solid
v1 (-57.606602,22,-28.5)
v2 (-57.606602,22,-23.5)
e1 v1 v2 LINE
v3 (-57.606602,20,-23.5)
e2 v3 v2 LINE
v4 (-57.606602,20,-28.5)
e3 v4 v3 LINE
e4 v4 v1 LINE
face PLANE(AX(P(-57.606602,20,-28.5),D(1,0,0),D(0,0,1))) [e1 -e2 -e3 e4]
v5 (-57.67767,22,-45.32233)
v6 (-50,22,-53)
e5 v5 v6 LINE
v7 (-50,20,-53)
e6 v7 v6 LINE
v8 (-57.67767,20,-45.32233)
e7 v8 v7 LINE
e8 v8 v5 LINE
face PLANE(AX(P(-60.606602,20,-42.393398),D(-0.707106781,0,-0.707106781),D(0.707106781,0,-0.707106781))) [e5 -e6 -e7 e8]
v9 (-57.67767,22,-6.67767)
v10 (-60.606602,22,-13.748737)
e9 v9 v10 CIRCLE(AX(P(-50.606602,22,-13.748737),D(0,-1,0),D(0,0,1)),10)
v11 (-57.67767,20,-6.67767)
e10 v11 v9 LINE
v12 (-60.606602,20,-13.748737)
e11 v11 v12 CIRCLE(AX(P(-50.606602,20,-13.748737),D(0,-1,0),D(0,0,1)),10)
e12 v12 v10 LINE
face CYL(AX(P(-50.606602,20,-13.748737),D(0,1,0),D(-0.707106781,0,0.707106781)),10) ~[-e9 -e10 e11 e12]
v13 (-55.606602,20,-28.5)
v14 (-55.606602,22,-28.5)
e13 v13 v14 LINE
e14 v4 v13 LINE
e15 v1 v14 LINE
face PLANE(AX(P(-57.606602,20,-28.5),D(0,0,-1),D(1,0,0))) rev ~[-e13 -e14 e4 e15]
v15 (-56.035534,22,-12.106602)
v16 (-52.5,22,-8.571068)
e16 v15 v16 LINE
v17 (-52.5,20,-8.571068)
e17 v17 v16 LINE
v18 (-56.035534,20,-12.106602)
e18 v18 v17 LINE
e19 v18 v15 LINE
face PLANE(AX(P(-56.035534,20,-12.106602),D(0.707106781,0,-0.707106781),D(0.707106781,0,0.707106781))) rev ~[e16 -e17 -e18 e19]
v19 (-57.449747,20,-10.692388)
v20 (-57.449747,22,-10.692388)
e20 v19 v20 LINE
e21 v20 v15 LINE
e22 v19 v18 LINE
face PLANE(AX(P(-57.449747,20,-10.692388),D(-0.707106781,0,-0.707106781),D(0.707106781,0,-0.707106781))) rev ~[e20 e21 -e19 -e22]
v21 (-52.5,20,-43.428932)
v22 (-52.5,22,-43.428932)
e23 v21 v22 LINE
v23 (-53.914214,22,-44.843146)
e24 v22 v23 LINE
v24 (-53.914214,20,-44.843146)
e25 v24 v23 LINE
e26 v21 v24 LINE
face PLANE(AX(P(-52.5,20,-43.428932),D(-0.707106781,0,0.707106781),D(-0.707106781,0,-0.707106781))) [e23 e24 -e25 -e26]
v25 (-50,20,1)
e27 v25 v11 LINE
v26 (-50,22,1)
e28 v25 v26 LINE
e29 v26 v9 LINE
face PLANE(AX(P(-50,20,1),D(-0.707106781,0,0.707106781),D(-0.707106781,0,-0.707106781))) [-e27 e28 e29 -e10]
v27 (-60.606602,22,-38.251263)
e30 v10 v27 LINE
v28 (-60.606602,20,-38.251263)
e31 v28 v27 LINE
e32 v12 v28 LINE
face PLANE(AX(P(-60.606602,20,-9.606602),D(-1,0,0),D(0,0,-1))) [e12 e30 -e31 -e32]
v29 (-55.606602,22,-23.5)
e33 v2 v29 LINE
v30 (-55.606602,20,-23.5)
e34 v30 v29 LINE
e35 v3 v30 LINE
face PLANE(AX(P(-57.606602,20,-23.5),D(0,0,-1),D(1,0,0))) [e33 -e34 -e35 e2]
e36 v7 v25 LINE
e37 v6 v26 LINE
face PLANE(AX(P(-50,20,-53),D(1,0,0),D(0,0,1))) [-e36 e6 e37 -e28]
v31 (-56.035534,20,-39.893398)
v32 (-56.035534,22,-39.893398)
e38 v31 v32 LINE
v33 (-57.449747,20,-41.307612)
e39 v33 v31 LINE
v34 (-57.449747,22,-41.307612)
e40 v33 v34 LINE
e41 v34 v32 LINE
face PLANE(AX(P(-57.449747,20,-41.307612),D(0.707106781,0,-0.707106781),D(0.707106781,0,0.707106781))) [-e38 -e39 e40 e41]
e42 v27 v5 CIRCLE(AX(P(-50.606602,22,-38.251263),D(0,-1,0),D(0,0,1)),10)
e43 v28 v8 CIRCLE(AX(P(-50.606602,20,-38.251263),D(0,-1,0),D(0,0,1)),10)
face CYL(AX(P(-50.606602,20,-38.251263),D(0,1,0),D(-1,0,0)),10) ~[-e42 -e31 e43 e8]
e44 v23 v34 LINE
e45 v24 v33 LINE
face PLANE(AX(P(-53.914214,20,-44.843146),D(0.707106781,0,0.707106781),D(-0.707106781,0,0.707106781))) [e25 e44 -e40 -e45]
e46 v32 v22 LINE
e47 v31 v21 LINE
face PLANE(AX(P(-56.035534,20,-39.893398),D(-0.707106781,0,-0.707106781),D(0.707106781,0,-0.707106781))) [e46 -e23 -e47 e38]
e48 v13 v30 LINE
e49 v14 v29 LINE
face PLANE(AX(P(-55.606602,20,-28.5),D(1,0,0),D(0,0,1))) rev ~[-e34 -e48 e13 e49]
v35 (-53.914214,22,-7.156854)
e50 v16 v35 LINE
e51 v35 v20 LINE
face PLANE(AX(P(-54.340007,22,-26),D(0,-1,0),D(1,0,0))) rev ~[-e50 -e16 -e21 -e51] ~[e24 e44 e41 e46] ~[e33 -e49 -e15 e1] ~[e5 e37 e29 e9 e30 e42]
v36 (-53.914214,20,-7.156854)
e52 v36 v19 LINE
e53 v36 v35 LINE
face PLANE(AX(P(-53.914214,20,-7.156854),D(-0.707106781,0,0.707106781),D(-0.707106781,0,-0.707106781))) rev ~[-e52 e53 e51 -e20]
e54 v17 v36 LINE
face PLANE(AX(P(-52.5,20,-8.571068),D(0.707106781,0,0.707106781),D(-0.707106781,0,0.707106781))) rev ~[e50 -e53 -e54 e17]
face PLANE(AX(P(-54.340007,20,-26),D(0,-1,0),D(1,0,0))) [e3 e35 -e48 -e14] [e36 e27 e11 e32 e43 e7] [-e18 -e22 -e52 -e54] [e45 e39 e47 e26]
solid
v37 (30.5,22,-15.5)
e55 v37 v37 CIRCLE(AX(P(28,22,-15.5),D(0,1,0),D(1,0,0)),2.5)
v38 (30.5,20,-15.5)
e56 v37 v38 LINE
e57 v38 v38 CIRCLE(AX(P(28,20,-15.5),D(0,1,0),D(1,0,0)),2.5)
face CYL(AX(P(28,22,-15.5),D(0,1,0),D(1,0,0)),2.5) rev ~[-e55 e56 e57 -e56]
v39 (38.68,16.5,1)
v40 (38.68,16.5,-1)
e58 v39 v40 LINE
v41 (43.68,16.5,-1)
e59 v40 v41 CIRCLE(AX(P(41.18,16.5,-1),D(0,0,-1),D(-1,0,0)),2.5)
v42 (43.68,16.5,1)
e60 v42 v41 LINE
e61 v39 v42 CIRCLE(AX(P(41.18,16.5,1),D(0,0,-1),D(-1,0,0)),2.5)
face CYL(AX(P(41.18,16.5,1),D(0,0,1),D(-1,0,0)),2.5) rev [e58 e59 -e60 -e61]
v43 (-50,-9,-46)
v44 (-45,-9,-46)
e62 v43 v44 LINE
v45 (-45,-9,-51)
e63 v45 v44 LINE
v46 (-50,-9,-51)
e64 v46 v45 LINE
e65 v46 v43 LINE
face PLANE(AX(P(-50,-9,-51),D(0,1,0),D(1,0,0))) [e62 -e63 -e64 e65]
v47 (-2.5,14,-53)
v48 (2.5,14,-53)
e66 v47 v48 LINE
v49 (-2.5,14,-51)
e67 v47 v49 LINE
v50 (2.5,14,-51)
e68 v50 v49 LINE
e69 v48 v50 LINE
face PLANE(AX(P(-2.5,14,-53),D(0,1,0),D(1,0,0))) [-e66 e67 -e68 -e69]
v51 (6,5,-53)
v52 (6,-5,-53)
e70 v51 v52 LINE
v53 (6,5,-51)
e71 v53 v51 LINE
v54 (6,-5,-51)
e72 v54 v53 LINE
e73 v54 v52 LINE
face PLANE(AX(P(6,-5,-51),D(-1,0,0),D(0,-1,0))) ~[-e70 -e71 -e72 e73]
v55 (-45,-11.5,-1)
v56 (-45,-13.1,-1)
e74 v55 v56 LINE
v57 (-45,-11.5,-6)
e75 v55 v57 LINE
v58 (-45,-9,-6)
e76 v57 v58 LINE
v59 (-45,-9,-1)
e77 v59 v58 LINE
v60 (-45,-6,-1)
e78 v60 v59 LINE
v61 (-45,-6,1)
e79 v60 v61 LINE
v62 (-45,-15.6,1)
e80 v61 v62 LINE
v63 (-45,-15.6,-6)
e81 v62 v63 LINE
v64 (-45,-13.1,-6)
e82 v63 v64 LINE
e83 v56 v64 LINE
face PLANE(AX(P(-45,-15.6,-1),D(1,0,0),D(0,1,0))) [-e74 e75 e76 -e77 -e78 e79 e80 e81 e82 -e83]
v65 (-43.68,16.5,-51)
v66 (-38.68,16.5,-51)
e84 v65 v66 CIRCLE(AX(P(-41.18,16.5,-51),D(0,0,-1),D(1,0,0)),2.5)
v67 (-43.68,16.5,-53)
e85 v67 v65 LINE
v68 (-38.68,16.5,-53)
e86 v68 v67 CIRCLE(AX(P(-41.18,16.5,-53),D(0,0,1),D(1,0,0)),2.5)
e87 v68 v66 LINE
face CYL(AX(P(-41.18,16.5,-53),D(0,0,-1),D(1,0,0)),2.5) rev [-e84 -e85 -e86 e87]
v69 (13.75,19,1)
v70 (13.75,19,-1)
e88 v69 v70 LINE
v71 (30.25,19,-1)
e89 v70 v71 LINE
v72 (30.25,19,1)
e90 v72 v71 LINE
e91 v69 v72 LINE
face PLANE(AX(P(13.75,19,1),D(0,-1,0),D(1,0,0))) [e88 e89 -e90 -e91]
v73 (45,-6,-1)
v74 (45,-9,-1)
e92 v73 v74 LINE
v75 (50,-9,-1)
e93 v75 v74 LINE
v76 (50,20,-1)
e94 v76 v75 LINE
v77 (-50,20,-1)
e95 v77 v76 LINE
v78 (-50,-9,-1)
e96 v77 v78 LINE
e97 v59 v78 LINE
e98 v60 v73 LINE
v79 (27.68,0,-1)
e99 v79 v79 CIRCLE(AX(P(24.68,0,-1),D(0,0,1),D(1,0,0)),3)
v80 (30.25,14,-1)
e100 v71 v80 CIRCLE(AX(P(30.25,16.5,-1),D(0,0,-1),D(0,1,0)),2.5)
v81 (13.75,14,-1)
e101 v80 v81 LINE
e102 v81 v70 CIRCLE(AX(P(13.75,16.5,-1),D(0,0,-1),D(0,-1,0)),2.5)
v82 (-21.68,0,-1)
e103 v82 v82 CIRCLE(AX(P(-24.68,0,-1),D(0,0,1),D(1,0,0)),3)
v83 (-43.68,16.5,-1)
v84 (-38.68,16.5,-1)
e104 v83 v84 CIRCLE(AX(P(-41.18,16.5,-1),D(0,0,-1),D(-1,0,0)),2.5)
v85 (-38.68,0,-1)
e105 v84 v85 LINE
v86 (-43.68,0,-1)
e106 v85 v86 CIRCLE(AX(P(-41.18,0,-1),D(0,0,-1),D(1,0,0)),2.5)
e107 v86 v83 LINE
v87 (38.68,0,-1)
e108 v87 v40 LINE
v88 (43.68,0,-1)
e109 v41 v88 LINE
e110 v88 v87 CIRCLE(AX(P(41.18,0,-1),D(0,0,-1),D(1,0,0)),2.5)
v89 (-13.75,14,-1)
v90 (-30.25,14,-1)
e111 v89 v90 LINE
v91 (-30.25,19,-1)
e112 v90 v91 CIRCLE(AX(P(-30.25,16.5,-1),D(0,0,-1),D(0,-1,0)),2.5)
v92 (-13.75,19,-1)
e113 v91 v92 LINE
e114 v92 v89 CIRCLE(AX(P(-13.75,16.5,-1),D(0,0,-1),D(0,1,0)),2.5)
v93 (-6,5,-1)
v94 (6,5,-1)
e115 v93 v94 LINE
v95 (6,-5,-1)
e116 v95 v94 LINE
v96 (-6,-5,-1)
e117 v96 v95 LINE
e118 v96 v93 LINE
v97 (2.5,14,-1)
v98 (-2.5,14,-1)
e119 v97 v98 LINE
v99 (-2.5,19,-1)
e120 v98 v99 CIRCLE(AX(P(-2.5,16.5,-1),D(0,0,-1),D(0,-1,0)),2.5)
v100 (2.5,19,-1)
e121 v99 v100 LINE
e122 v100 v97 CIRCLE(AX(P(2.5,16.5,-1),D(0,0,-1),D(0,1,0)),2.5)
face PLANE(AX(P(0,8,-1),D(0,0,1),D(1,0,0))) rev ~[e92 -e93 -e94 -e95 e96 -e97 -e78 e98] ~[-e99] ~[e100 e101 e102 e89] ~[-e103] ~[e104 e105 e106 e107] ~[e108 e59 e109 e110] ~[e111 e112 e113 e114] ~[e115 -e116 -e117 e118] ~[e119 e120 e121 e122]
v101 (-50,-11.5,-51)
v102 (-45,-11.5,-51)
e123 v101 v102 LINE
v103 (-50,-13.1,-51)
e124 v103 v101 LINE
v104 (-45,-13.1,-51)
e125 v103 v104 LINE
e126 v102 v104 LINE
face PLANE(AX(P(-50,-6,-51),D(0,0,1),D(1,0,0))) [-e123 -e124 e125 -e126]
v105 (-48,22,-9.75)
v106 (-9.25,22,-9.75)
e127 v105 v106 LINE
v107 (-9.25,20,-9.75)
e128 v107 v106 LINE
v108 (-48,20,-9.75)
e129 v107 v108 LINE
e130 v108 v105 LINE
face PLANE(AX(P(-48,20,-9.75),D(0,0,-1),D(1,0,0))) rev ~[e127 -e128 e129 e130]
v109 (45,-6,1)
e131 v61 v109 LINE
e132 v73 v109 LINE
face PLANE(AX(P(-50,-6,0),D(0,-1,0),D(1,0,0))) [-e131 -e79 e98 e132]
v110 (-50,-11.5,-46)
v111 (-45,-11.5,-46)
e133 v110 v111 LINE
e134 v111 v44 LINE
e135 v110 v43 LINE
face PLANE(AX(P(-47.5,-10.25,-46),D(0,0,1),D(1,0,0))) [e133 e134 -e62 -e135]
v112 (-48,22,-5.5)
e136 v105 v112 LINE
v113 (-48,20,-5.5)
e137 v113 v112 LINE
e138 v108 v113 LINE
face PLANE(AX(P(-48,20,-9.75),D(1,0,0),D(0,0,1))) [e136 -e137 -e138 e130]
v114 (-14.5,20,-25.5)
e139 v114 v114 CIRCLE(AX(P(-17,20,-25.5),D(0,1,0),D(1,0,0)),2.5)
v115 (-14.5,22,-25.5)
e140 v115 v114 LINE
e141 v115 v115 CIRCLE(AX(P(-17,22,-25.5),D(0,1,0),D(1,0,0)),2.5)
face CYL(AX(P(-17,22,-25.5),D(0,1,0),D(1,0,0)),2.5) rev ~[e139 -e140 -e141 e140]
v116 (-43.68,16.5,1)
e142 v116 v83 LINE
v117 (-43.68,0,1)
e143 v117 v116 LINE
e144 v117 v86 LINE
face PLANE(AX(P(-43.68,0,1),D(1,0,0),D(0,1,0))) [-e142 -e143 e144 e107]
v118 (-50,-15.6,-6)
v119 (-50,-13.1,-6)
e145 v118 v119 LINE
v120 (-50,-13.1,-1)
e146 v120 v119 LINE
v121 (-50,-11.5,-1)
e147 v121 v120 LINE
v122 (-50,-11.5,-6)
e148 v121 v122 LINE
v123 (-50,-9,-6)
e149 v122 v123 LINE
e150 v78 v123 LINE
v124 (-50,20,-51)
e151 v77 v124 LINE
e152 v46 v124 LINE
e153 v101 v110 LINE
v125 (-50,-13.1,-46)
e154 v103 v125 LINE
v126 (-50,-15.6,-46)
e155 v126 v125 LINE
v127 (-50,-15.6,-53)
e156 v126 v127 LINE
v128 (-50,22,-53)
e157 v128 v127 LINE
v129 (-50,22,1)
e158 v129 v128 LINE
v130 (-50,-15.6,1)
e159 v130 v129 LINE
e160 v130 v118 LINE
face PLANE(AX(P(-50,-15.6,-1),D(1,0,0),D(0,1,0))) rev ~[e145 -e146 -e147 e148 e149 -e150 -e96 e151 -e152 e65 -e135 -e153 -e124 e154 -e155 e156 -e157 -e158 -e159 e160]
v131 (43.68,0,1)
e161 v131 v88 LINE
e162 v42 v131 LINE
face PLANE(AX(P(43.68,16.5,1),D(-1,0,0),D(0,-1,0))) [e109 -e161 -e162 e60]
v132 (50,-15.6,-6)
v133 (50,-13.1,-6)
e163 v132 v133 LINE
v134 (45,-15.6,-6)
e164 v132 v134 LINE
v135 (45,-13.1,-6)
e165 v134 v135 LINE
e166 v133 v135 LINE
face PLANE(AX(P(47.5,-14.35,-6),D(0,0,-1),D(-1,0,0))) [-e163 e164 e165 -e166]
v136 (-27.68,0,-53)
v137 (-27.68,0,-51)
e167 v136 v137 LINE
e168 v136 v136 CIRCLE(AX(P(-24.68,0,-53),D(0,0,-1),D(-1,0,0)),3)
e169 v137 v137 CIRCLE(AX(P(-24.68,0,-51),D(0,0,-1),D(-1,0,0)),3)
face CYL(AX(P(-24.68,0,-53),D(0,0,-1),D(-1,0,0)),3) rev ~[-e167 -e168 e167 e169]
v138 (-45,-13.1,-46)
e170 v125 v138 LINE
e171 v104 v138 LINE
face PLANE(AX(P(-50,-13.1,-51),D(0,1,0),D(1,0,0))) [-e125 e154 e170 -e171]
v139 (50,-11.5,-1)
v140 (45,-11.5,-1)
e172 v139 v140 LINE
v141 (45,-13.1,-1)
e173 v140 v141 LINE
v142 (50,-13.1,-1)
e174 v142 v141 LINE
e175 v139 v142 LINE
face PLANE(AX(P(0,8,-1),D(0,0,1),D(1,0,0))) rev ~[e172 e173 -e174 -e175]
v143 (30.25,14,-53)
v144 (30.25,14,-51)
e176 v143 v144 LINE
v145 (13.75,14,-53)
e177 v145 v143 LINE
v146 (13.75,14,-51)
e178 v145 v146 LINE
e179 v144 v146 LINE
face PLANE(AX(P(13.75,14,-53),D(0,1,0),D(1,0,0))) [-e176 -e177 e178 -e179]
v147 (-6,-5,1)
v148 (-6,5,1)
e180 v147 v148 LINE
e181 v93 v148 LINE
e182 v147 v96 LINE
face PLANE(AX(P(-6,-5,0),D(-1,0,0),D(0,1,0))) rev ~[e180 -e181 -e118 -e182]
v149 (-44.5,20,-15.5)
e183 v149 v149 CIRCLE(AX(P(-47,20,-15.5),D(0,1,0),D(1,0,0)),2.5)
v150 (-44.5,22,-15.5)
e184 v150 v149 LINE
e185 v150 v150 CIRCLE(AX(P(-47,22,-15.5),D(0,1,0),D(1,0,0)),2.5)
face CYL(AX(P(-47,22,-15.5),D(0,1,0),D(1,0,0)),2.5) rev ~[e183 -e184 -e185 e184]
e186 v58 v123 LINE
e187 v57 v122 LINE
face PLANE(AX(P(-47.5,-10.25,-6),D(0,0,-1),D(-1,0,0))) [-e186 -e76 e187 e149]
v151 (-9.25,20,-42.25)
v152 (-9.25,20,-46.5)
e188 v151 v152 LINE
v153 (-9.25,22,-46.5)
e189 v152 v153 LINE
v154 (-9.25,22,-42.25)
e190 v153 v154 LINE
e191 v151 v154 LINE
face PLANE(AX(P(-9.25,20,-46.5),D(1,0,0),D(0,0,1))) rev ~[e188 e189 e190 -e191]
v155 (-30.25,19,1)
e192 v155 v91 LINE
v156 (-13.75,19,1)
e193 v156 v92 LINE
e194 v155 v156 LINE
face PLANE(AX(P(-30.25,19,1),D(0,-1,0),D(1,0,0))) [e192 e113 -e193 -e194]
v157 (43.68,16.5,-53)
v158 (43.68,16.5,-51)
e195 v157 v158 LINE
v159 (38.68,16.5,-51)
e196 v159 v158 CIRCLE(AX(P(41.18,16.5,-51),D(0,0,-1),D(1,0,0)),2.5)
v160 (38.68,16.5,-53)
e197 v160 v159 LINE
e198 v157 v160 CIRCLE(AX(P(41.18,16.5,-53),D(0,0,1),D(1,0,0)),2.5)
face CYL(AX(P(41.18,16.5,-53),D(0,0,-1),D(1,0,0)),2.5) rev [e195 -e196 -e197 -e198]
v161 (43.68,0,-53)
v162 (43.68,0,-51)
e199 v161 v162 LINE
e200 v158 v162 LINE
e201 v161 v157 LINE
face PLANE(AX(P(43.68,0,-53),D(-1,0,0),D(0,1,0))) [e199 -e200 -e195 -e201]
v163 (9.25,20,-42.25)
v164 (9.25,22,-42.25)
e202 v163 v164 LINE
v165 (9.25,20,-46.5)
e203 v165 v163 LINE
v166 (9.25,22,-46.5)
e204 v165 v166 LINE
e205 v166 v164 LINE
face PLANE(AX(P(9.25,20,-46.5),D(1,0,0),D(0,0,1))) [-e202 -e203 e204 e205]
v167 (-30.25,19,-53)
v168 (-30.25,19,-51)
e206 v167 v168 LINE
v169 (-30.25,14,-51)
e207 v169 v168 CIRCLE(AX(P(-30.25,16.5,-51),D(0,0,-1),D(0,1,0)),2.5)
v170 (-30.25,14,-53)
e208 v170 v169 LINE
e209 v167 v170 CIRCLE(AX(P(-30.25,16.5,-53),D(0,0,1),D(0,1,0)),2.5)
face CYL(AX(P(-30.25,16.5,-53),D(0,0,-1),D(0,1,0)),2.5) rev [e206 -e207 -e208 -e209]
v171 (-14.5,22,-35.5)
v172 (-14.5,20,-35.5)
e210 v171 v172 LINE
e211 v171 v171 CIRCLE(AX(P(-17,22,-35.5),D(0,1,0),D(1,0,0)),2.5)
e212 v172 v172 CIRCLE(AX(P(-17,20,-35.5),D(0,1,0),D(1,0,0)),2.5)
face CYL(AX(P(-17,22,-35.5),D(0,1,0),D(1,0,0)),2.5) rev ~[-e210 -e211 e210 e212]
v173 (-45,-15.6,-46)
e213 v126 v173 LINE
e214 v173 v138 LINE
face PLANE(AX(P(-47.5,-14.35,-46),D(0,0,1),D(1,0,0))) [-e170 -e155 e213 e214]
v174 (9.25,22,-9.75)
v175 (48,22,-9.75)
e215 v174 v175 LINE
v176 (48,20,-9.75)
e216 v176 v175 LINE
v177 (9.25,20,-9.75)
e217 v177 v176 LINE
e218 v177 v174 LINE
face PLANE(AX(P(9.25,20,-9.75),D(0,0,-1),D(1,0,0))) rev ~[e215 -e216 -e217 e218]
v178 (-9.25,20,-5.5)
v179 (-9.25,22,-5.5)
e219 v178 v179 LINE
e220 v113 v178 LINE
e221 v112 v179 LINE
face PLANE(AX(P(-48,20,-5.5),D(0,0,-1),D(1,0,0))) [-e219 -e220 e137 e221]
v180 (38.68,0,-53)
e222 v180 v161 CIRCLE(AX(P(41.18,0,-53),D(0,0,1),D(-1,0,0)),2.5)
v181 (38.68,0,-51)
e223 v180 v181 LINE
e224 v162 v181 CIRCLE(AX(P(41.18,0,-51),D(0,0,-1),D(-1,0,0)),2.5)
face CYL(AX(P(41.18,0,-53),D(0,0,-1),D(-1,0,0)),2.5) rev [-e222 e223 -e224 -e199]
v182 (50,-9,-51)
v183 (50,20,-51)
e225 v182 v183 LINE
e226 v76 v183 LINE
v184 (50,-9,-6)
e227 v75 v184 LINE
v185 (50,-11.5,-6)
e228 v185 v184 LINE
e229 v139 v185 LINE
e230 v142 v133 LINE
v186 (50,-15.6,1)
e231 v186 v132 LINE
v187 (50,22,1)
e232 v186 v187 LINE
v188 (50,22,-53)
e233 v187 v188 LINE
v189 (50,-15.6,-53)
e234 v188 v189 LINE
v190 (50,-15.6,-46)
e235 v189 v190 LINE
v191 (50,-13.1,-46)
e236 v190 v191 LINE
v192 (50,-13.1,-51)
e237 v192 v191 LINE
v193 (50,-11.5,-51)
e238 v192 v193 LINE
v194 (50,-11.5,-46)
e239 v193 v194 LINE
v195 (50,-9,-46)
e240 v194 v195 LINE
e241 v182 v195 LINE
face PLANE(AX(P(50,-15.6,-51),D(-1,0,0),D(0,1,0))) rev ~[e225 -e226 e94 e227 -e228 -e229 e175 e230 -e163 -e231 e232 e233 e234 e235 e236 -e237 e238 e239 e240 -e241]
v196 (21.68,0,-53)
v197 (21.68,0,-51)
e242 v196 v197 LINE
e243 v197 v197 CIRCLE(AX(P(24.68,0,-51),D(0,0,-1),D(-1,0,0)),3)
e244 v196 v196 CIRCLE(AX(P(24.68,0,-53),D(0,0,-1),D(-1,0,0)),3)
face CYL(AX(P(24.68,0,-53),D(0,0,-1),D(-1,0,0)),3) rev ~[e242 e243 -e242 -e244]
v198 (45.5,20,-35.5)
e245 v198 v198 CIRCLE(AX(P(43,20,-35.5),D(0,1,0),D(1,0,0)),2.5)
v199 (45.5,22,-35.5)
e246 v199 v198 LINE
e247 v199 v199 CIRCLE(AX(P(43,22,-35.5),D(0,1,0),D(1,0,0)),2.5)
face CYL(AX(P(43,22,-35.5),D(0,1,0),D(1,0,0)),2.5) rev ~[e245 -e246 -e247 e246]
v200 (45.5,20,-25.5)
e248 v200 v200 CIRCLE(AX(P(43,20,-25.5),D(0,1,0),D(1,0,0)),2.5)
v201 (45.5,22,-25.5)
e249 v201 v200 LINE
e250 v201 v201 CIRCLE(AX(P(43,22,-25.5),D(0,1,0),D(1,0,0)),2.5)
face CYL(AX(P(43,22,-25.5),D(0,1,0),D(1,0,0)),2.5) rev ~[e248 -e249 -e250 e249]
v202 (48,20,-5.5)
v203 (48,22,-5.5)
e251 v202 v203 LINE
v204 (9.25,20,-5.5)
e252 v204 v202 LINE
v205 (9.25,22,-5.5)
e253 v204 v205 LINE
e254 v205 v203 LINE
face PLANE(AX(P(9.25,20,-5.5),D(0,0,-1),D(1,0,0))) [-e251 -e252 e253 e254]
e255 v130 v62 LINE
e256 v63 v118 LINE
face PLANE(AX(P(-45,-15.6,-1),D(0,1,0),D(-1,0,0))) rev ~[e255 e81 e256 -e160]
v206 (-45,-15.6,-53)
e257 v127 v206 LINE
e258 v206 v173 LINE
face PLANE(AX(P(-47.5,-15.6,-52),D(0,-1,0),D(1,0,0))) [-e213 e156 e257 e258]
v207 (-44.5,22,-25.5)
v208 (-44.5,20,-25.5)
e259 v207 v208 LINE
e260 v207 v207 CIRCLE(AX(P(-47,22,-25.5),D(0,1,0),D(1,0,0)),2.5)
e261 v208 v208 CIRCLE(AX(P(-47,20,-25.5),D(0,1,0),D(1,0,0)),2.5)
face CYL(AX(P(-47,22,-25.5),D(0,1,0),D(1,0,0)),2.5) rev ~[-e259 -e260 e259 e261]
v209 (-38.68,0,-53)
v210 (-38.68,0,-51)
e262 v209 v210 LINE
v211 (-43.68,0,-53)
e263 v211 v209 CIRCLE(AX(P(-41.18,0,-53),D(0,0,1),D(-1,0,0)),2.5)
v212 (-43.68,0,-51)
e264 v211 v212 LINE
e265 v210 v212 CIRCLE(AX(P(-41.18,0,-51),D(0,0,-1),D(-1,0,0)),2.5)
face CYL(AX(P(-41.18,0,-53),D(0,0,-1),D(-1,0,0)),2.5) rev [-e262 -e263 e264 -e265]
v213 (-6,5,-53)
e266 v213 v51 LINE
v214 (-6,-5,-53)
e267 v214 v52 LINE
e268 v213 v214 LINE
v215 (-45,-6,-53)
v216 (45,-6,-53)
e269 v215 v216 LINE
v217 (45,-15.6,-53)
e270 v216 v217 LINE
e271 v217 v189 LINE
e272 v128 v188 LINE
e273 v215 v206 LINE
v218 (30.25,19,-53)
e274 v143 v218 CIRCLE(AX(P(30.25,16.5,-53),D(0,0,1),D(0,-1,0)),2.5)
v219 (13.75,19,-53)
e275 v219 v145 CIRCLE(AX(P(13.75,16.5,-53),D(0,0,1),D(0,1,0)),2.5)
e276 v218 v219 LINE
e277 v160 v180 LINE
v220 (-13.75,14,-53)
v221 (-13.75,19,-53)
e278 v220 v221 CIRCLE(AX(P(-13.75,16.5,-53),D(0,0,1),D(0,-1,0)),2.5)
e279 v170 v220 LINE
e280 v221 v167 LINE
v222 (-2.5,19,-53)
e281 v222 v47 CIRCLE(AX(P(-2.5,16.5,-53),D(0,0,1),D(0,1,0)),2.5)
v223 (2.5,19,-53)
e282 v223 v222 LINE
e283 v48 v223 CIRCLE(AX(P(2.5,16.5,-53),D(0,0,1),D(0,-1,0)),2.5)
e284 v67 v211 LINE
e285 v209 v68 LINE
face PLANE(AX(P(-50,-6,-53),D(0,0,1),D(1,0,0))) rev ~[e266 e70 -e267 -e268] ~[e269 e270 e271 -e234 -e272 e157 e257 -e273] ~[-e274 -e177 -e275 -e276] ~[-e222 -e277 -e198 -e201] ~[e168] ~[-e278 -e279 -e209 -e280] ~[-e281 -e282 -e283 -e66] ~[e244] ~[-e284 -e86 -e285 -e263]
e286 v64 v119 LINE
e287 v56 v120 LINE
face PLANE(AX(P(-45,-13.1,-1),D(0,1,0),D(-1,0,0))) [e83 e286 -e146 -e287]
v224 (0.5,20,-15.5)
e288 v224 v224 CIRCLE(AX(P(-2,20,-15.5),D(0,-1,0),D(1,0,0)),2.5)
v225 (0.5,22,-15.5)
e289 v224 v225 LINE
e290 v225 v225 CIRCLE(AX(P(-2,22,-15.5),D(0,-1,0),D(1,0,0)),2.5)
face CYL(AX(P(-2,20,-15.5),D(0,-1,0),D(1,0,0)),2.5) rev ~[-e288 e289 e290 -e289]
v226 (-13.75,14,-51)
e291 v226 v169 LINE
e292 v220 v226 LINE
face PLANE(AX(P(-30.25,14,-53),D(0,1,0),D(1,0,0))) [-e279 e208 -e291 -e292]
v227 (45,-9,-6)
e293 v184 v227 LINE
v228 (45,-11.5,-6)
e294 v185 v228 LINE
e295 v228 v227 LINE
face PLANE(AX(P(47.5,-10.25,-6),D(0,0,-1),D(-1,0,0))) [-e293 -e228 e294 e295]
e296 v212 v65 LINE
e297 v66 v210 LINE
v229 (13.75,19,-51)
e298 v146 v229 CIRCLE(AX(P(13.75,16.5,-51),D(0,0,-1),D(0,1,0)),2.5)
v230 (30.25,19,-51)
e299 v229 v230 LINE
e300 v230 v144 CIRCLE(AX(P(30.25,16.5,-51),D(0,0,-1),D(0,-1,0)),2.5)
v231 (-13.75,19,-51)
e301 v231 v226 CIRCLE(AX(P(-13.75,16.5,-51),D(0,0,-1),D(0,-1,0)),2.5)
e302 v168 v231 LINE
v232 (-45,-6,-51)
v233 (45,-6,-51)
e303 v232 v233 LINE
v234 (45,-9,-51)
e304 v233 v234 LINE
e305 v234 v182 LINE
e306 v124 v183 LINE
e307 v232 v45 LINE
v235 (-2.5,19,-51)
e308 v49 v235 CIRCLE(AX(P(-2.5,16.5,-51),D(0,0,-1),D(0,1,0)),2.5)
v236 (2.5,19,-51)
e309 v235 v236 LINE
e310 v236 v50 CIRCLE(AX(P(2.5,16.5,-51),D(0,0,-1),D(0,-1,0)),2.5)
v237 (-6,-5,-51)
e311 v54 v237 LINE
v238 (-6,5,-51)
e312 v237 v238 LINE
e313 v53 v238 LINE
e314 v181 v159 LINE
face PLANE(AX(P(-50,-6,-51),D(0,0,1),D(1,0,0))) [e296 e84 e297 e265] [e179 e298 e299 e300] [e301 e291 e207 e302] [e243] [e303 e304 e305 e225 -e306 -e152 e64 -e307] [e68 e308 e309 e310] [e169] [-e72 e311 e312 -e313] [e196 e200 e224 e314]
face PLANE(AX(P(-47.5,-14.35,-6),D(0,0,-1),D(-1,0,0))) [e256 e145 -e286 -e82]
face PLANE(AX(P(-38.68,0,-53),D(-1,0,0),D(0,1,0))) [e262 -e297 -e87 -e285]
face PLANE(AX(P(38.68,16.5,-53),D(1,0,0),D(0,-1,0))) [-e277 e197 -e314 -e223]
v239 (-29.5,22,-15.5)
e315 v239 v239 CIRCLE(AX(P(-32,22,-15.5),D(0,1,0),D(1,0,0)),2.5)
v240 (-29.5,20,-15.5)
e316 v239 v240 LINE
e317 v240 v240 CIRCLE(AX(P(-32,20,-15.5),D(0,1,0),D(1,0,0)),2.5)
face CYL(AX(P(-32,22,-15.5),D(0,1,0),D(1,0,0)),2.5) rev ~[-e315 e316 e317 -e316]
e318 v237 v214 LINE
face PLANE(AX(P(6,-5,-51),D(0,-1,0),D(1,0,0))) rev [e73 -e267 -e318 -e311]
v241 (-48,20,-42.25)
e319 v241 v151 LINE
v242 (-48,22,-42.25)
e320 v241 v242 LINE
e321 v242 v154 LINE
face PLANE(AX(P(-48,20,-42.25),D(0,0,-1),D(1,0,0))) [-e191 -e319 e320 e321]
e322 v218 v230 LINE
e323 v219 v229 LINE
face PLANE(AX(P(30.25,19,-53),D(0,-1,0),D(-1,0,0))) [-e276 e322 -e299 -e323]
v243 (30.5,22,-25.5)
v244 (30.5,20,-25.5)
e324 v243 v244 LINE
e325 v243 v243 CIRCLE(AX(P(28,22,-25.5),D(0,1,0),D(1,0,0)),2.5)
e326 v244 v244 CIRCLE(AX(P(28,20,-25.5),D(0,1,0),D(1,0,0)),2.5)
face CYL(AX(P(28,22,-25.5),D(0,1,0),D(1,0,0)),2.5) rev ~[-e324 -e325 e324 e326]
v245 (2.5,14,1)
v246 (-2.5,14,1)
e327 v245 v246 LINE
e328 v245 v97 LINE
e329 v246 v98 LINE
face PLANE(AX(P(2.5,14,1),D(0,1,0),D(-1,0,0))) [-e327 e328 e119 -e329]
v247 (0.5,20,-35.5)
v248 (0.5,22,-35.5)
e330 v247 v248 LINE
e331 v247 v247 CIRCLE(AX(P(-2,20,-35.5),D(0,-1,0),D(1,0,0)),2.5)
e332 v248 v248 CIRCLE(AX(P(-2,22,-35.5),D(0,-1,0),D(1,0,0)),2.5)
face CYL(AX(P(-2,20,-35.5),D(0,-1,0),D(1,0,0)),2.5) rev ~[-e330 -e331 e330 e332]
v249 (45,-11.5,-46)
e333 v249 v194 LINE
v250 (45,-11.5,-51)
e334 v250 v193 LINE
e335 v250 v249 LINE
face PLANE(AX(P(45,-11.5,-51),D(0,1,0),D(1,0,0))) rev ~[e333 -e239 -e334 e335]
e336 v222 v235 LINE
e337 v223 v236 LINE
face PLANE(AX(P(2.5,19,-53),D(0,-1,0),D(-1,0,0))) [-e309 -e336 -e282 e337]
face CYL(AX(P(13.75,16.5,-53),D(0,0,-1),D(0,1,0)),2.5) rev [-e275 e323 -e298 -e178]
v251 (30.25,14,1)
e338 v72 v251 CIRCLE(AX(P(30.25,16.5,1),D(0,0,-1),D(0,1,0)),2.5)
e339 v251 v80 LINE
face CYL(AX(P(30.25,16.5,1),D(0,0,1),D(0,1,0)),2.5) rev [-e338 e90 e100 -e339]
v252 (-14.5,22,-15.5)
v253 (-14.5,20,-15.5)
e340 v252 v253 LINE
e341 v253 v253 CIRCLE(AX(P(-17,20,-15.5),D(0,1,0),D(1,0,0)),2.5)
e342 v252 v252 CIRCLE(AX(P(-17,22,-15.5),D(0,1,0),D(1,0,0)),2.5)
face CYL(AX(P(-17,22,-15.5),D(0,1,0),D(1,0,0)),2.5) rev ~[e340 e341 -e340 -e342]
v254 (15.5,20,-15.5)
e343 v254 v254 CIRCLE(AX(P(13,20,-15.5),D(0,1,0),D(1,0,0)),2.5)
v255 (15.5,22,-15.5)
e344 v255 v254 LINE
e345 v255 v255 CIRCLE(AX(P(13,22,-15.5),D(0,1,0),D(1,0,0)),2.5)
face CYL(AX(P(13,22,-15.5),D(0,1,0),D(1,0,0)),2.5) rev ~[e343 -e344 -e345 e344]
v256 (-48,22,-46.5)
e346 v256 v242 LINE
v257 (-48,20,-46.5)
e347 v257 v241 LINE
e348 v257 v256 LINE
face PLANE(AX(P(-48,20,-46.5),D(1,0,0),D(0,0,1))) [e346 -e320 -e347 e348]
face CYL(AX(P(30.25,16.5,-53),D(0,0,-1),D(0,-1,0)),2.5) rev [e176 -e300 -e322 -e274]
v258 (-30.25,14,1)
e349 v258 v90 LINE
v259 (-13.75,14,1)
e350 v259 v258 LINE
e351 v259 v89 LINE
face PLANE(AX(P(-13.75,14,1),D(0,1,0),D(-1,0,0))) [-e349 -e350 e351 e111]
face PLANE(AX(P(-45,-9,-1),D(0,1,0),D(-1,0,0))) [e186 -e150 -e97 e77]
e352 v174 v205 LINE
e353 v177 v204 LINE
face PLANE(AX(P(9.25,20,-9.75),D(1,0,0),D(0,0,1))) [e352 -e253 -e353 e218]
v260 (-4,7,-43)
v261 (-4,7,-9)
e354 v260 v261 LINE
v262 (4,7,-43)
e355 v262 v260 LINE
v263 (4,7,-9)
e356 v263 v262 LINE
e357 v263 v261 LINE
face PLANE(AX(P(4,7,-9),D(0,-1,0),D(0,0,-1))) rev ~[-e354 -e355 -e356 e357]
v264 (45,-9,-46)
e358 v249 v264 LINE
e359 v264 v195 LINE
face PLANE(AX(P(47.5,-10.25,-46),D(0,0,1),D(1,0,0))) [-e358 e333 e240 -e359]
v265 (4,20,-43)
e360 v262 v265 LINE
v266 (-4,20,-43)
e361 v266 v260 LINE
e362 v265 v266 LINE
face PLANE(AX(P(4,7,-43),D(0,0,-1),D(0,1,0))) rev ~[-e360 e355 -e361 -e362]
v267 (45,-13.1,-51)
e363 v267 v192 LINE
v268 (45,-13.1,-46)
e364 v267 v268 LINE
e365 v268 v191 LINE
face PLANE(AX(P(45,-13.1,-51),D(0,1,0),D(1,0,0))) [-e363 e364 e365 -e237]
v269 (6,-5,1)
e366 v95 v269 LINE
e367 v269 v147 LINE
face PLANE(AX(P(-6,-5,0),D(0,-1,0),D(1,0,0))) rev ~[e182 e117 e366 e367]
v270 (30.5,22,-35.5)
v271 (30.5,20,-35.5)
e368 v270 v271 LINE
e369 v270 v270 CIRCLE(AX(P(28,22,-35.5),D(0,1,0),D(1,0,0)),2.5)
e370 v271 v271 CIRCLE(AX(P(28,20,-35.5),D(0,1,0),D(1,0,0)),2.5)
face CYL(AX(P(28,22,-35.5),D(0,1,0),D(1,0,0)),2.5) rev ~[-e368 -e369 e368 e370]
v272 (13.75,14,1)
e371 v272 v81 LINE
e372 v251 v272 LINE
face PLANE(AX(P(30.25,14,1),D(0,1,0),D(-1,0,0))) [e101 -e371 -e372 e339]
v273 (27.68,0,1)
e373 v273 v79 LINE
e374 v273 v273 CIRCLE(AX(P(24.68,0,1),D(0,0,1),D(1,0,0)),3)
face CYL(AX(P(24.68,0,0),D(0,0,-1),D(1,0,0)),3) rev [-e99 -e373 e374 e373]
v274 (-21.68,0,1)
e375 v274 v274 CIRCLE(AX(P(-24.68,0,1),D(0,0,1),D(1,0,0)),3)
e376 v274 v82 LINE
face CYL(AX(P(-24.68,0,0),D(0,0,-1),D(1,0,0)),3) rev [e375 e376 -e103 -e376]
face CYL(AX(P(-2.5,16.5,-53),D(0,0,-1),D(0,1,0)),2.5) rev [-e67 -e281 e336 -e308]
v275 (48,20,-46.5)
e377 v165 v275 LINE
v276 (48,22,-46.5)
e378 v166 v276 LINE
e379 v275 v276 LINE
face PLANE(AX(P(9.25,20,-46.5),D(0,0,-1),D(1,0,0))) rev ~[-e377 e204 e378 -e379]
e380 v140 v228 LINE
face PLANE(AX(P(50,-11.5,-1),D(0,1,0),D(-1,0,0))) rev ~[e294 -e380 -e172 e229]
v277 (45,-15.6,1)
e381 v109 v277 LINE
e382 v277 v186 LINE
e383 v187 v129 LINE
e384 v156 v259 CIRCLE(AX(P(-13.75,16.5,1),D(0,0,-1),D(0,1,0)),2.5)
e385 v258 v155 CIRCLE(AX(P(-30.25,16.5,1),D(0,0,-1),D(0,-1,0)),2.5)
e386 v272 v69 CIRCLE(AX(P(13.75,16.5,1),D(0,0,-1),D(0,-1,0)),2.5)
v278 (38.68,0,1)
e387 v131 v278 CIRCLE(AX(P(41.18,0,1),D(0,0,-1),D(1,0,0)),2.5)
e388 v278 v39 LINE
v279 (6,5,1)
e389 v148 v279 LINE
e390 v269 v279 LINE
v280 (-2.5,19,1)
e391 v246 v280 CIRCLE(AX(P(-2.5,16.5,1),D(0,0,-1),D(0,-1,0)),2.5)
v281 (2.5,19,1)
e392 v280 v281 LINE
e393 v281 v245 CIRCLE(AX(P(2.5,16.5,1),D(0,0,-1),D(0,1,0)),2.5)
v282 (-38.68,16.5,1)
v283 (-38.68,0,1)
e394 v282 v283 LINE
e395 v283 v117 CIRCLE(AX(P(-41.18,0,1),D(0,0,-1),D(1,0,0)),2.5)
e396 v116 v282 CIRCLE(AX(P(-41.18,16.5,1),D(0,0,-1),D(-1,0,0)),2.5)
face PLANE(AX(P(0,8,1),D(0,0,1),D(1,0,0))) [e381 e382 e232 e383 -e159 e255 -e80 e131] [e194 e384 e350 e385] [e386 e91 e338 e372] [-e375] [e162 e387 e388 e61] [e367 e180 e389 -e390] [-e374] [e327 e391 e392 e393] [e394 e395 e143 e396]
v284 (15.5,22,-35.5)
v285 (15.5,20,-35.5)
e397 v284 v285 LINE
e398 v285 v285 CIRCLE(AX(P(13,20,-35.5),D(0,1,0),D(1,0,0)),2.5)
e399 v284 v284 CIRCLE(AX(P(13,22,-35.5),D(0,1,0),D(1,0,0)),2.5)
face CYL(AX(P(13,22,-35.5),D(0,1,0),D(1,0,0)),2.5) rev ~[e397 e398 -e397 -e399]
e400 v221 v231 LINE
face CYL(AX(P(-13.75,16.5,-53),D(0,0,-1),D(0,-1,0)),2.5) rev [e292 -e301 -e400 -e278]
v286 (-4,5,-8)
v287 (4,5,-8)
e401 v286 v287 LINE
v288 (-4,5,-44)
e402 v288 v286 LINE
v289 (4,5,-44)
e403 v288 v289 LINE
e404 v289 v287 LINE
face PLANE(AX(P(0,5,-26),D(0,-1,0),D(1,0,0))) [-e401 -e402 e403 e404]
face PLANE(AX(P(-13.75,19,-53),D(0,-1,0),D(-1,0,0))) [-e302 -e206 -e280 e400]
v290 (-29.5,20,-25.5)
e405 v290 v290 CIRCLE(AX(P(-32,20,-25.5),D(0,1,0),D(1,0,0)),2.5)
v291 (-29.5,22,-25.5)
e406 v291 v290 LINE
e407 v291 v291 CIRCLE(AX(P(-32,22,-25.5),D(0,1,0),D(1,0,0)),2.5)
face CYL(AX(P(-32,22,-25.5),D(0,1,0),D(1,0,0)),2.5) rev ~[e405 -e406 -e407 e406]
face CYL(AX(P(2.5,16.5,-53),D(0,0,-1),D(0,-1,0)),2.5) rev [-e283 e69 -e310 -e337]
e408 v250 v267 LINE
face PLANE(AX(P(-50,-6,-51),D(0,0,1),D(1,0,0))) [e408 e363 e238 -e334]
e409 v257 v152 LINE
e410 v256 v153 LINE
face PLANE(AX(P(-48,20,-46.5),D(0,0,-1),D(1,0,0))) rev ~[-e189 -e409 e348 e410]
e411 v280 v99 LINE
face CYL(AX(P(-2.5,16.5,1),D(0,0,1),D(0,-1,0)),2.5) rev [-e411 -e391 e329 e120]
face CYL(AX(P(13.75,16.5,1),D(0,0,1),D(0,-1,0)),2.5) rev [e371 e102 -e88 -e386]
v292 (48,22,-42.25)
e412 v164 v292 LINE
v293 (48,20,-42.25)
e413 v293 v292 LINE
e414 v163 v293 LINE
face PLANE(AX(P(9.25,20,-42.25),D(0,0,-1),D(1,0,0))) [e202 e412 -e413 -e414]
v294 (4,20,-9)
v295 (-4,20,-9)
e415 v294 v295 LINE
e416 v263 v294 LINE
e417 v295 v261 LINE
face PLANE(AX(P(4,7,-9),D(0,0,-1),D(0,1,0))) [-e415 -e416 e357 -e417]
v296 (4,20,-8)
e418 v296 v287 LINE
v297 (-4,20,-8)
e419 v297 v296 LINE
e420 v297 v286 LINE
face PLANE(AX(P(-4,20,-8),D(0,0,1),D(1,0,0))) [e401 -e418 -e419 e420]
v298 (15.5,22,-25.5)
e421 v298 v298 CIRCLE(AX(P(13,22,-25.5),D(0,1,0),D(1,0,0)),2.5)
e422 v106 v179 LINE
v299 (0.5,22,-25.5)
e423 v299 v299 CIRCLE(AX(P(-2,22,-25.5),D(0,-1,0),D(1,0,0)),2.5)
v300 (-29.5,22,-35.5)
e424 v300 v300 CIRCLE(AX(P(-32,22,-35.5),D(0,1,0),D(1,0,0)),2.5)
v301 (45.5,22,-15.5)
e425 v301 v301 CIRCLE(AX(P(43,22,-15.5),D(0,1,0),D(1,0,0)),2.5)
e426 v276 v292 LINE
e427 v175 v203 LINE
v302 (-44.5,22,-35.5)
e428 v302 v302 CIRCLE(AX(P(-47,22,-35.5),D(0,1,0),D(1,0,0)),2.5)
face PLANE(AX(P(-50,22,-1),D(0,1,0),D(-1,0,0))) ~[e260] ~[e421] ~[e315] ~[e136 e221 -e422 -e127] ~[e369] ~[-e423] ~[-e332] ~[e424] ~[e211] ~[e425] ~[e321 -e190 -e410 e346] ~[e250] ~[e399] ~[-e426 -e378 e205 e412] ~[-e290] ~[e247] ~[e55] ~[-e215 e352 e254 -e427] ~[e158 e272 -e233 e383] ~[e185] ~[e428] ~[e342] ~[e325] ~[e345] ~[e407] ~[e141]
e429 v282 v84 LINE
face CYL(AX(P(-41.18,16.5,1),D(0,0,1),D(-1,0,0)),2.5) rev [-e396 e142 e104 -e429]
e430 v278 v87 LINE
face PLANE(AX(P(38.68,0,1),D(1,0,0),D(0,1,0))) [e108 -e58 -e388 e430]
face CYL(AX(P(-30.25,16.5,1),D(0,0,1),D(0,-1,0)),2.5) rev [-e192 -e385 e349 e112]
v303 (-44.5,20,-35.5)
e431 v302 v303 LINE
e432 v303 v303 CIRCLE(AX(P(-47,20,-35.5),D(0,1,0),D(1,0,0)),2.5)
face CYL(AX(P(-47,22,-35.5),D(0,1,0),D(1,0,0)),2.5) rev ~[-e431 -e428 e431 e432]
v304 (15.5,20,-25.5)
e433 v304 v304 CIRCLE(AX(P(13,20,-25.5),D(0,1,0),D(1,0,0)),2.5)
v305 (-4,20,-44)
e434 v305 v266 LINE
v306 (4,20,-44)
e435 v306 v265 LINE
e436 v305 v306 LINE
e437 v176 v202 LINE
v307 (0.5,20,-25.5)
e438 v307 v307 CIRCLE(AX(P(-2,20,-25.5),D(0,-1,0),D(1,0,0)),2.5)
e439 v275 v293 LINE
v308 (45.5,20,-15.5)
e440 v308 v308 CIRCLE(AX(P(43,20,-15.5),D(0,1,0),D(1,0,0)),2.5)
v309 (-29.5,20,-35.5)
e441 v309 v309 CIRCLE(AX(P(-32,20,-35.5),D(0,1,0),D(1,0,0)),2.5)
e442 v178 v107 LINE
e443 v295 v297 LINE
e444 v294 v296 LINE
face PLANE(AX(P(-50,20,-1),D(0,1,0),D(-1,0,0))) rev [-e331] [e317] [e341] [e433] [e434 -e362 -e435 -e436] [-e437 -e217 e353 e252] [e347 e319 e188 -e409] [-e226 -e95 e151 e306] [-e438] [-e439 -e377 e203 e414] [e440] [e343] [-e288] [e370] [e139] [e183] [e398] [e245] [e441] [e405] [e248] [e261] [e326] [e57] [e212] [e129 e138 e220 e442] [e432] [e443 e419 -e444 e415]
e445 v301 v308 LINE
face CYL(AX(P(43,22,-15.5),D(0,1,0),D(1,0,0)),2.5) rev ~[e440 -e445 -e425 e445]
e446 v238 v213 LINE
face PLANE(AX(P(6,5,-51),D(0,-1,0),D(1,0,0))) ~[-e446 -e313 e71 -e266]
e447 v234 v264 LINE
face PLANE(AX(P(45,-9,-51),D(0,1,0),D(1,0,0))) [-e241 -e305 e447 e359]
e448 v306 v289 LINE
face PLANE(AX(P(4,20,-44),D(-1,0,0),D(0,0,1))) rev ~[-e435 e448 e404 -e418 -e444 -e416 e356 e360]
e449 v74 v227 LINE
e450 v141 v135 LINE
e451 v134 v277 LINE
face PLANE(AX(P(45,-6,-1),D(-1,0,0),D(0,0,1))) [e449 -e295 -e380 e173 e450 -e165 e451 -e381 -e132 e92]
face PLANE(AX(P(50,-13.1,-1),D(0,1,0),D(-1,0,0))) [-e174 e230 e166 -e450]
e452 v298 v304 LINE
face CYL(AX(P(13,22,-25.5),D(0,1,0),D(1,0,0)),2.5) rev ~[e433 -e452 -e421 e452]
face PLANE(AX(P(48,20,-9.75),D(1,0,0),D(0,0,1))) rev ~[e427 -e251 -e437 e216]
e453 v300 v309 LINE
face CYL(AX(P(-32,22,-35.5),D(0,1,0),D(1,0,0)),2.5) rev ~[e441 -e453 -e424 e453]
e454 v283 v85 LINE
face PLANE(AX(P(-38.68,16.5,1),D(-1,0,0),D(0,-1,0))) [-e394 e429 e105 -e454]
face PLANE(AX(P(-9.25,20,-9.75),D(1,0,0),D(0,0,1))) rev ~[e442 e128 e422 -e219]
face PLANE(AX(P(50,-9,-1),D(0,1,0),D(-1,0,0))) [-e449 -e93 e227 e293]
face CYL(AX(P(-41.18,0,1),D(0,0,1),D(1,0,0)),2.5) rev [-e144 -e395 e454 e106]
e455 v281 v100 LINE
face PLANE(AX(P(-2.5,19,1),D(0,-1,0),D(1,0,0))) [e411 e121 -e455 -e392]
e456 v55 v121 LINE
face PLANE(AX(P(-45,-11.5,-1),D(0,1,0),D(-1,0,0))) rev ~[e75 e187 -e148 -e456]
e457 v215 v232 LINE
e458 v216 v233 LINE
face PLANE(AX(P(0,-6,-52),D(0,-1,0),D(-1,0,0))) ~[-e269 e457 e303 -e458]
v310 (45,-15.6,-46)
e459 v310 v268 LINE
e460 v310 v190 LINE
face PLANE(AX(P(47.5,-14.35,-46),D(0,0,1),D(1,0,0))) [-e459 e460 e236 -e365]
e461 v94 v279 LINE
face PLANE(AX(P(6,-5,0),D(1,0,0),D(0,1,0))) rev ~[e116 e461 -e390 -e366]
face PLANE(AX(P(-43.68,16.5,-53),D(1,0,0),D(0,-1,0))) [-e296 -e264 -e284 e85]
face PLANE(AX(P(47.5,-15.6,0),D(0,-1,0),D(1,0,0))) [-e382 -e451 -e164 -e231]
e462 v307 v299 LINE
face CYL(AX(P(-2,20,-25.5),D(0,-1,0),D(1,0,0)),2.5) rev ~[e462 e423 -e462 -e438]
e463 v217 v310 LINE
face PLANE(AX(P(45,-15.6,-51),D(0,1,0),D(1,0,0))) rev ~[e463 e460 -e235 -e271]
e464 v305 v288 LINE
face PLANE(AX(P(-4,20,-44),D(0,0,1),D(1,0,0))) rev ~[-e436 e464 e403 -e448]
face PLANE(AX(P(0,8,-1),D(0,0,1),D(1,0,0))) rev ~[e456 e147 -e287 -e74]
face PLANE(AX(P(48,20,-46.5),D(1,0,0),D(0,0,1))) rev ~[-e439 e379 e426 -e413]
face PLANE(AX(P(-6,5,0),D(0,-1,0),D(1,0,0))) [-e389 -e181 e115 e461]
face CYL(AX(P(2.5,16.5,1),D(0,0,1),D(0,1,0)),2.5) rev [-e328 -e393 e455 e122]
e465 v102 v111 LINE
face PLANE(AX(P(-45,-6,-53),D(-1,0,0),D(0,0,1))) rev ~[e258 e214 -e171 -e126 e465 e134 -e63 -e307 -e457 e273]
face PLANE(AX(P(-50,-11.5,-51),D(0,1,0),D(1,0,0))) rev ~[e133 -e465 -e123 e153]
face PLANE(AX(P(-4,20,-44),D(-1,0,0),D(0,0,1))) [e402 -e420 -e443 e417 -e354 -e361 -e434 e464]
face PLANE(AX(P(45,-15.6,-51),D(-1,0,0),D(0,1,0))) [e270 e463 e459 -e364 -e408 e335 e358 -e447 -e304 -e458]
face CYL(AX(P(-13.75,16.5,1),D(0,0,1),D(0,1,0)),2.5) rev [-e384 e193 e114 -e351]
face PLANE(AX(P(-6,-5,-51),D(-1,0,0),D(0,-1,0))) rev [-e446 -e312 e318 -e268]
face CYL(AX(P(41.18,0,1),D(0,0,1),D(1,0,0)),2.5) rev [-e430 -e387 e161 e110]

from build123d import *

# Parameters (mm, degrees)
SKETCH1_W                = 100
SKETCH1_H                = 28
SKETCH1_R                = 3
SKETCH1_W_2              = 12
SKETCH1_H_2              = 10
BOSS_EXTRUDE1_DEPTH      = 1
SKETCH4_W                = 100
SKETCH4_H                = 2
BOSS_EXTRUDE2_DEPTH      = 52
SKETCH5_W                = 100
SKETCH5_H                = 2
BOSS_EXTRUDE3_DEPTH      = 26
SKETCH6_W                = 12
SKETCH6_H                = 10
CUT_EXTRUDE1_DEPTH       = 26
SKETCH7_R                = 2
CUT_EXTRUDE2_DEPTH       = 26
SKETCH9_W                = 60.638660184
SKETCH9_H                = 41.98862088
CUT_EXTRUDE4_DEPTH       = 51
CUT_EXTRUDE4_DEPTH_BACK  = 51
BOSS_EXTRUDE12_DEPTH     = 2
FILLET1_R                = 10
CUT_EXTRUDE15_DEPTH      = 2
SKETCH52_R               = 2.5
CUT_EXTRUDE28_DEPTH      = 10
SKETCH64_W               = 2
SKETCH64_H               = 5
CUT_EXTRUDE30_DEPTH      = 2
CUT_EXTRUDE31_DEPTH      = 1
CUT_EXTRUDE31_DEPTH_BACK = 55
SKETCH65_W               = 38.75
SKETCH65_H               = 4.25
CUT_EXTRUDE32_DEPTH      = 27
CUT_EXTRUDE32_DEPTH_BACK = 3
SKETCH45_W               = 8
SKETCH45_H               = 36
BOSS_EXTRUDE13_DEPTH     = 15
SKETCH67_W               = 34
SKETCH67_H               = 13
CUT_EXTRUDE33_DEPTH      = 15
SKETCH68_R               = 2.5
CUT_EXTRUDE34_DEPTH      = 15
SKETCH69_R               = 3
CUT_EXTRUDE35_DEPTH      = 10
SKETCH71_W               = 5
SKETCH71_H               = 2
BOSS_EXTRUDE14_DEPTH     = 9.6
SKETCH72_W               = 5
SKETCH72_H               = 2.5
BOSS_EXTRUDE15_DEPTH     = 5
SKETCH73_W               = 5
SKETCH73_H               = 2.5
BOSS_EXTRUDE16_DEPTH     = 5


with BuildPart() as part:
    # Sketch1 → Boss-Extrude1 (new body, symmetric)
    with BuildSketch(Plane.XY):
        with Locations((0, 8)):
            Rectangle(SKETCH1_W, SKETCH1_H)
        with Locations((24.68, 0)):
            Circle(SKETCH1_R, mode=Mode.SUBTRACT)
        with Locations((-24.68, 0)):
            Circle(SKETCH1_R, mode=Mode.SUBTRACT)
        Rectangle(SKETCH1_W_2, SKETCH1_H_2, mode=Mode.SUBTRACT)
    extrude(amount=BOSS_EXTRUDE1_DEPTH, both=True)

    # Sketch4 → Boss-Extrude2 (add)
    with BuildSketch(Plane.XY.offset(1)):
        with Locations((0, 21)):
            Rectangle(SKETCH4_W, SKETCH4_H)
    extrude(amount=BOSS_EXTRUDE2_DEPTH)

    # Sketch5 → Boss-Extrude3 (add)
    with BuildSketch(Plane.XZ.offset(-20)):
        with Locations((0, 52)):
            Rectangle(SKETCH5_W, SKETCH5_H)
    extrude(amount=BOSS_EXTRUDE3_DEPTH)

    # Sketch6 → Cut-Extrude1 (cut)
    with BuildSketch(Plane(origin=(0, 0, 51), x_dir=(-1, 0, 0), z_dir=(0, 0, -1))):
        Rectangle(SKETCH6_W, SKETCH6_H)
    extrude(amount=-CUT_EXTRUDE1_DEPTH, mode=Mode.SUBTRACT)

    # Sketch7 → Cut-Extrude2 (cut)
    with BuildSketch(Plane(origin=(0, 0, 51), x_dir=(-1, 0, 0), z_dir=(0, 0, -1))):
        with Locations((-24.68, 0)):
            Circle(SKETCH7_R)
        with Locations((24.68, 0)):
            Circle(SKETCH7_R)
    extrude(amount=-CUT_EXTRUDE2_DEPTH, mode=Mode.SUBTRACT)


with BuildPart() as body_2:
    # Mirror6: mirrored copy
    add(part.part.mirror(Plane.XY))

    # Sketch52 → Cut-Extrude28 (cut)
    with BuildSketch(Plane(origin=(0, 22, 0), x_dir=(1, 0, 0), z_dir=(0, 1, 0))):
        with Locations((13, 35.5)):
            Circle(SKETCH52_R)
        with Locations((13, 25.5)):
            Circle(SKETCH52_R)
        with Locations((28, 25.5)):
            Circle(SKETCH52_R)
        with Locations((43, 25.5)):
            Circle(SKETCH52_R)
        with Locations((43, 15.5)):
            Circle(SKETCH52_R)
        with Locations((13, 15.5)):
            Circle(SKETCH52_R)
        with Locations((-32, 35.5)):
            Circle(SKETCH52_R)
        with Locations((-17, 25.5)):
            Circle(SKETCH52_R)
        with Locations((-17, 15.5)):
            Circle(SKETCH52_R)
        with Locations((43, 35.5)):
            Circle(SKETCH52_R)
        with Locations((28, 35.5)):
            Circle(SKETCH52_R)
        with Locations((28, 15.5)):
            Circle(SKETCH52_R)
        with Locations((-17, 35.5)):
            Circle(SKETCH52_R)
        with Locations((-47, 35.5)):
            Circle(SKETCH52_R)
        with Locations((-47, 25.5)):
            Circle(SKETCH52_R)
        with Locations((-32, 25.5)):
            Circle(SKETCH52_R)
        with Locations((-32, 15.5)):
            Circle(SKETCH52_R)
        with Locations((-47, 15.5)):
            Circle(SKETCH52_R)
    extrude(amount=-CUT_EXTRUDE28_DEPTH, mode=Mode.SUBTRACT)

    # Sketch51 → Cut-Extrude31 (cut, two sides)
    with BuildSketch(Plane(origin=(0, 0, -53), x_dir=(-1, 0, 0), z_dir=(0, 0, -1))) as cut_extrude31_sk:
        with BuildLine():
            Line((-38.68, 16.5), (-38.68, 0))
            ThreePointArc((-38.68, 0), (-41.18, -2.5), (-43.68, 0))
            Line((-43.68, 0), (-43.68, 16.5))
            ThreePointArc((-43.68, 16.5), (-41.18, 19), (-38.68, 16.5))
        make_face()
        with BuildLine():
            Line((-30.25, 19), (-13.75, 19))
            ThreePointArc((-13.75, 19), (-11.25, 16.5), (-13.75, 14))
            Line((-13.75, 14), (-30.25, 14))
            ThreePointArc((-30.25, 14), (-32.75, 16.5), (-30.25, 19))
        make_face()
        with BuildLine():
            Line((-2.5, 19), (2.5, 19))
            ThreePointArc((2.5, 19), (5, 16.5), (2.5, 14))
            Line((2.5, 14), (-2.5, 14))
            ThreePointArc((-2.5, 14), (-5, 16.5), (-2.5, 19))
        make_face()
        with BuildLine():
            Line((13.75, 19), (30.25, 19))
            ThreePointArc((30.25, 19), (32.75, 16.5), (30.25, 14))
            Line((30.25, 14), (13.75, 14))
            ThreePointArc((13.75, 14), (11.25, 16.5), (13.75, 19))
        make_face()
        with BuildLine():
            Line((43.68, 16.5), (43.68, 0))
            ThreePointArc((43.68, 0), (41.18, -2.5), (38.68, 0))
            Line((38.68, 0), (38.68, 16.5))
            ThreePointArc((38.68, 16.5), (41.18, 19), (43.68, 16.5))
        make_face()
    extrude(amount=CUT_EXTRUDE31_DEPTH, mode=Mode.SUBTRACT)
    extrude(cut_extrude31_sk.sketch, amount=-CUT_EXTRUDE31_DEPTH_BACK, mode=Mode.SUBTRACT)

    # Sketch65 → Cut-Extrude32 (cut, two sides)
    with BuildSketch(Plane.XZ.offset(-20)) as cut_extrude32_sk:
        with Locations((-28.625, -7.625)):
            Rectangle(SKETCH65_W, SKETCH65_H)
        with Locations((-28.625, -44.375)):
            Rectangle(SKETCH65_W, SKETCH65_H)
        with Locations((28.625, -44.375)):
            Rectangle(SKETCH65_W, SKETCH65_H)
        with Locations((28.625, -7.625)):
            Rectangle(SKETCH65_W, SKETCH65_H)
    extrude(amount=CUT_EXTRUDE32_DEPTH, mode=Mode.SUBTRACT)
    extrude(cut_extrude32_sk.sketch, amount=-CUT_EXTRUDE32_DEPTH_BACK, mode=Mode.SUBTRACT)

    # Sketch45 → Boss-Extrude13 (add)
    with BuildSketch(Plane.XZ.offset(-20)):
        with Locations((0, -26)):
            Rectangle(SKETCH45_W, SKETCH45_H)
    extrude(amount=BOSS_EXTRUDE13_DEPTH)

    # Sketch67 → Cut-Extrude33 (cut)
    with BuildSketch(Plane(origin=(4, 0, 0), x_dir=(0, 0, -1), z_dir=(1, 0, 0))):
        with Locations((26, 13.5)):
            Rectangle(SKETCH67_W, SKETCH67_H)
    extrude(amount=-CUT_EXTRUDE33_DEPTH, mode=Mode.SUBTRACT)

    # Sketch68 → Cut-Extrude34 (cut)
    with BuildSketch(Plane.XZ.offset(-20)):
        with Locations((-2, -15.5)):
            Circle(SKETCH68_R)
        with Locations((-2, -25.5)):
            Circle(SKETCH68_R)
        with Locations((-2, -35.5)):
            Circle(SKETCH68_R)
    extrude(amount=-CUT_EXTRUDE34_DEPTH, mode=Mode.SUBTRACT)

    # Sketch69 → Cut-Extrude35 (cut)
    with BuildSketch(Plane(origin=(0, 0, -53), x_dir=(-1, 0, 0), z_dir=(0, 0, -1))):
        with Locations((24.68, 0)):
            Circle(SKETCH69_R)
        with Locations((-24.68, 0)):
            Circle(SKETCH69_R)
    extrude(amount=-CUT_EXTRUDE35_DEPTH, mode=Mode.SUBTRACT)


with BuildPart() as part_1:
    add(part.part)

    # Sketch9 → Cut-Extrude4 (cut, two sides)
    with BuildSketch(Plane(origin=(0, 0, 0), x_dir=(0, 0, -1), z_dir=(1, 0, 0))) as cut_extrude4_sk:
        with Locations((-31.319330092, 14.99431044)):
            Rectangle(SKETCH9_W, SKETCH9_H)
    extrude(amount=CUT_EXTRUDE4_DEPTH, mode=Mode.SUBTRACT)
    extrude(cut_extrude4_sk.sketch, amount=-CUT_EXTRUDE4_DEPTH_BACK, mode=Mode.SUBTRACT)

    # Sketch50 → Cut-Extrude15 (cut)
    with BuildSketch(Plane.XY.offset(1)):
        with BuildLine():
            Line((-43.68, 0), (-43.68, 16.5))
            ThreePointArc((-43.68, 16.5), (-41.18, 19), (-38.68, 16.5))
            Line((-38.68, 16.5), (-38.68, 0))
            ThreePointArc((-38.68, 0), (-41.18, -2.5), (-43.68, 0))
        make_face()
        with BuildLine():
            Line((-30.25, 19), (-13.75, 19))
            ThreePointArc((-13.75, 19), (-11.25, 16.5), (-13.75, 14))
            Line((-13.75, 14), (-30.25, 14))
            ThreePointArc((-30.25, 14), (-32.75, 16.5), (-30.25, 19))
        make_face()
        with BuildLine():
            Line((38.68, 0), (38.68, 16.5))
            ThreePointArc((38.68, 16.5), (41.18, 19), (43.68, 16.5))
            Line((43.68, 16.5), (43.68, 0))
            ThreePointArc((43.68, 0), (41.18, -2.5), (38.68, 0))
        make_face()
        with BuildLine():
            Line((13.75, 19), (30.25, 19))
            ThreePointArc((30.25, 19), (32.75, 16.5), (30.25, 14))
            Line((30.25, 14), (13.75, 14))
            ThreePointArc((13.75, 14), (11.25, 16.5), (13.75, 19))
        make_face()
        with BuildLine():
            Line((-2.5, 19), (2.5, 19))
            ThreePointArc((2.5, 19), (5, 16.5), (2.5, 14))
            Line((2.5, 14), (-2.5, 14))
            ThreePointArc((-2.5, 14), (-5, 16.5), (-2.5, 19))
        make_face()
    extrude(amount=-CUT_EXTRUDE15_DEPTH, mode=Mode.SUBTRACT)

    add(body_2.part)  # Boss-Extrude14 merges body 2
    # Sketch71 → Boss-Extrude14 (add)
    with BuildSketch(Plane.XZ.offset(6)):
        with Locations((-47.5, -52)):
            Rectangle(SKETCH71_W, SKETCH71_H)
        with Locations((47.5, -52)):
            Rectangle(SKETCH71_W, SKETCH71_H)
        with Locations((47.5, 0)):
            Rectangle(SKETCH71_W, SKETCH71_H)
        with Locations((-47.5, 0)):
            Rectangle(SKETCH71_W, SKETCH71_H)
    extrude(amount=BOSS_EXTRUDE14_DEPTH)

    # Sketch72 → Boss-Extrude15 (add)
    with BuildSketch(Plane.XY.offset(-51)):
        with Locations((47.5, -14.35)):
            Rectangle(SKETCH72_W, SKETCH72_H)
        with Locations((47.5, -10.25)):
            Rectangle(SKETCH72_W, SKETCH72_H)
        with Locations((-47.5, -14.35)):
            Rectangle(SKETCH72_W, SKETCH72_H)
        with Locations((-47.5, -10.25)):
            Rectangle(SKETCH72_W, SKETCH72_H)
    extrude(amount=BOSS_EXTRUDE15_DEPTH)

    # Sketch73 → Boss-Extrude16 (add)
    with BuildSketch(Plane(origin=(0, 0, -1), x_dir=(-1, 0, 0), z_dir=(0, 0, -1))):
        with Locations((47.5, -14.35)):
            Rectangle(SKETCH73_W, SKETCH73_H)
        with Locations((47.5, -10.25)):
            Rectangle(SKETCH73_W, SKETCH73_H)
        with Locations((-47.5, -14.35)):
            Rectangle(SKETCH73_W, SKETCH73_H)
        with Locations((-47.5, -10.25)):
            Rectangle(SKETCH73_W, SKETCH73_H)
    extrude(amount=BOSS_EXTRUDE16_DEPTH)


with BuildPart() as body_3:
    # Sketch19 → Boss-Extrude12 (new body)
    with BuildSketch(Plane.XZ.offset(-20)):
        Polygon((-50, -53), (-50, 1), (-60.606601718, -9.606601718), (-60.606601718, -42.393398282), align=None)
    extrude(amount=-BOSS_EXTRUDE12_DEPTH)

    # Fillet1
    fillet1_edges = [body_3.edges().sort_by_distance(p)[0] for p in [
        (-60.606601718, 21, -42.393398282),
        (-60.606601718, 21, -9.606601718),
    ]]
    fillet(fillet1_edges, radius=FILLET1_R)

    # Sketch64 → Cut-Extrude30 (cut)
    with BuildSketch(Plane.XZ.offset(-20)):
        with Locations((-56.606601718, -26)):
            Rectangle(SKETCH64_W, SKETCH64_H)
        Polygon((-56.035533906, -12.106601718), (-52.5, -8.571067812), (-53.914213562, -7.156854249), (-57.449747468, -10.692388155), align=None)
        Polygon((-52.5, -43.428932188), (-53.914213562, -44.843145751), (-57.449747468, -41.307611845), (-56.035533906, -39.893398282), align=None)
    extrude(amount=-CUT_EXTRUDE30_DEPTH, mode=Mode.SUBTRACT)


solid = Compound([part_1.part, body_3.part])
